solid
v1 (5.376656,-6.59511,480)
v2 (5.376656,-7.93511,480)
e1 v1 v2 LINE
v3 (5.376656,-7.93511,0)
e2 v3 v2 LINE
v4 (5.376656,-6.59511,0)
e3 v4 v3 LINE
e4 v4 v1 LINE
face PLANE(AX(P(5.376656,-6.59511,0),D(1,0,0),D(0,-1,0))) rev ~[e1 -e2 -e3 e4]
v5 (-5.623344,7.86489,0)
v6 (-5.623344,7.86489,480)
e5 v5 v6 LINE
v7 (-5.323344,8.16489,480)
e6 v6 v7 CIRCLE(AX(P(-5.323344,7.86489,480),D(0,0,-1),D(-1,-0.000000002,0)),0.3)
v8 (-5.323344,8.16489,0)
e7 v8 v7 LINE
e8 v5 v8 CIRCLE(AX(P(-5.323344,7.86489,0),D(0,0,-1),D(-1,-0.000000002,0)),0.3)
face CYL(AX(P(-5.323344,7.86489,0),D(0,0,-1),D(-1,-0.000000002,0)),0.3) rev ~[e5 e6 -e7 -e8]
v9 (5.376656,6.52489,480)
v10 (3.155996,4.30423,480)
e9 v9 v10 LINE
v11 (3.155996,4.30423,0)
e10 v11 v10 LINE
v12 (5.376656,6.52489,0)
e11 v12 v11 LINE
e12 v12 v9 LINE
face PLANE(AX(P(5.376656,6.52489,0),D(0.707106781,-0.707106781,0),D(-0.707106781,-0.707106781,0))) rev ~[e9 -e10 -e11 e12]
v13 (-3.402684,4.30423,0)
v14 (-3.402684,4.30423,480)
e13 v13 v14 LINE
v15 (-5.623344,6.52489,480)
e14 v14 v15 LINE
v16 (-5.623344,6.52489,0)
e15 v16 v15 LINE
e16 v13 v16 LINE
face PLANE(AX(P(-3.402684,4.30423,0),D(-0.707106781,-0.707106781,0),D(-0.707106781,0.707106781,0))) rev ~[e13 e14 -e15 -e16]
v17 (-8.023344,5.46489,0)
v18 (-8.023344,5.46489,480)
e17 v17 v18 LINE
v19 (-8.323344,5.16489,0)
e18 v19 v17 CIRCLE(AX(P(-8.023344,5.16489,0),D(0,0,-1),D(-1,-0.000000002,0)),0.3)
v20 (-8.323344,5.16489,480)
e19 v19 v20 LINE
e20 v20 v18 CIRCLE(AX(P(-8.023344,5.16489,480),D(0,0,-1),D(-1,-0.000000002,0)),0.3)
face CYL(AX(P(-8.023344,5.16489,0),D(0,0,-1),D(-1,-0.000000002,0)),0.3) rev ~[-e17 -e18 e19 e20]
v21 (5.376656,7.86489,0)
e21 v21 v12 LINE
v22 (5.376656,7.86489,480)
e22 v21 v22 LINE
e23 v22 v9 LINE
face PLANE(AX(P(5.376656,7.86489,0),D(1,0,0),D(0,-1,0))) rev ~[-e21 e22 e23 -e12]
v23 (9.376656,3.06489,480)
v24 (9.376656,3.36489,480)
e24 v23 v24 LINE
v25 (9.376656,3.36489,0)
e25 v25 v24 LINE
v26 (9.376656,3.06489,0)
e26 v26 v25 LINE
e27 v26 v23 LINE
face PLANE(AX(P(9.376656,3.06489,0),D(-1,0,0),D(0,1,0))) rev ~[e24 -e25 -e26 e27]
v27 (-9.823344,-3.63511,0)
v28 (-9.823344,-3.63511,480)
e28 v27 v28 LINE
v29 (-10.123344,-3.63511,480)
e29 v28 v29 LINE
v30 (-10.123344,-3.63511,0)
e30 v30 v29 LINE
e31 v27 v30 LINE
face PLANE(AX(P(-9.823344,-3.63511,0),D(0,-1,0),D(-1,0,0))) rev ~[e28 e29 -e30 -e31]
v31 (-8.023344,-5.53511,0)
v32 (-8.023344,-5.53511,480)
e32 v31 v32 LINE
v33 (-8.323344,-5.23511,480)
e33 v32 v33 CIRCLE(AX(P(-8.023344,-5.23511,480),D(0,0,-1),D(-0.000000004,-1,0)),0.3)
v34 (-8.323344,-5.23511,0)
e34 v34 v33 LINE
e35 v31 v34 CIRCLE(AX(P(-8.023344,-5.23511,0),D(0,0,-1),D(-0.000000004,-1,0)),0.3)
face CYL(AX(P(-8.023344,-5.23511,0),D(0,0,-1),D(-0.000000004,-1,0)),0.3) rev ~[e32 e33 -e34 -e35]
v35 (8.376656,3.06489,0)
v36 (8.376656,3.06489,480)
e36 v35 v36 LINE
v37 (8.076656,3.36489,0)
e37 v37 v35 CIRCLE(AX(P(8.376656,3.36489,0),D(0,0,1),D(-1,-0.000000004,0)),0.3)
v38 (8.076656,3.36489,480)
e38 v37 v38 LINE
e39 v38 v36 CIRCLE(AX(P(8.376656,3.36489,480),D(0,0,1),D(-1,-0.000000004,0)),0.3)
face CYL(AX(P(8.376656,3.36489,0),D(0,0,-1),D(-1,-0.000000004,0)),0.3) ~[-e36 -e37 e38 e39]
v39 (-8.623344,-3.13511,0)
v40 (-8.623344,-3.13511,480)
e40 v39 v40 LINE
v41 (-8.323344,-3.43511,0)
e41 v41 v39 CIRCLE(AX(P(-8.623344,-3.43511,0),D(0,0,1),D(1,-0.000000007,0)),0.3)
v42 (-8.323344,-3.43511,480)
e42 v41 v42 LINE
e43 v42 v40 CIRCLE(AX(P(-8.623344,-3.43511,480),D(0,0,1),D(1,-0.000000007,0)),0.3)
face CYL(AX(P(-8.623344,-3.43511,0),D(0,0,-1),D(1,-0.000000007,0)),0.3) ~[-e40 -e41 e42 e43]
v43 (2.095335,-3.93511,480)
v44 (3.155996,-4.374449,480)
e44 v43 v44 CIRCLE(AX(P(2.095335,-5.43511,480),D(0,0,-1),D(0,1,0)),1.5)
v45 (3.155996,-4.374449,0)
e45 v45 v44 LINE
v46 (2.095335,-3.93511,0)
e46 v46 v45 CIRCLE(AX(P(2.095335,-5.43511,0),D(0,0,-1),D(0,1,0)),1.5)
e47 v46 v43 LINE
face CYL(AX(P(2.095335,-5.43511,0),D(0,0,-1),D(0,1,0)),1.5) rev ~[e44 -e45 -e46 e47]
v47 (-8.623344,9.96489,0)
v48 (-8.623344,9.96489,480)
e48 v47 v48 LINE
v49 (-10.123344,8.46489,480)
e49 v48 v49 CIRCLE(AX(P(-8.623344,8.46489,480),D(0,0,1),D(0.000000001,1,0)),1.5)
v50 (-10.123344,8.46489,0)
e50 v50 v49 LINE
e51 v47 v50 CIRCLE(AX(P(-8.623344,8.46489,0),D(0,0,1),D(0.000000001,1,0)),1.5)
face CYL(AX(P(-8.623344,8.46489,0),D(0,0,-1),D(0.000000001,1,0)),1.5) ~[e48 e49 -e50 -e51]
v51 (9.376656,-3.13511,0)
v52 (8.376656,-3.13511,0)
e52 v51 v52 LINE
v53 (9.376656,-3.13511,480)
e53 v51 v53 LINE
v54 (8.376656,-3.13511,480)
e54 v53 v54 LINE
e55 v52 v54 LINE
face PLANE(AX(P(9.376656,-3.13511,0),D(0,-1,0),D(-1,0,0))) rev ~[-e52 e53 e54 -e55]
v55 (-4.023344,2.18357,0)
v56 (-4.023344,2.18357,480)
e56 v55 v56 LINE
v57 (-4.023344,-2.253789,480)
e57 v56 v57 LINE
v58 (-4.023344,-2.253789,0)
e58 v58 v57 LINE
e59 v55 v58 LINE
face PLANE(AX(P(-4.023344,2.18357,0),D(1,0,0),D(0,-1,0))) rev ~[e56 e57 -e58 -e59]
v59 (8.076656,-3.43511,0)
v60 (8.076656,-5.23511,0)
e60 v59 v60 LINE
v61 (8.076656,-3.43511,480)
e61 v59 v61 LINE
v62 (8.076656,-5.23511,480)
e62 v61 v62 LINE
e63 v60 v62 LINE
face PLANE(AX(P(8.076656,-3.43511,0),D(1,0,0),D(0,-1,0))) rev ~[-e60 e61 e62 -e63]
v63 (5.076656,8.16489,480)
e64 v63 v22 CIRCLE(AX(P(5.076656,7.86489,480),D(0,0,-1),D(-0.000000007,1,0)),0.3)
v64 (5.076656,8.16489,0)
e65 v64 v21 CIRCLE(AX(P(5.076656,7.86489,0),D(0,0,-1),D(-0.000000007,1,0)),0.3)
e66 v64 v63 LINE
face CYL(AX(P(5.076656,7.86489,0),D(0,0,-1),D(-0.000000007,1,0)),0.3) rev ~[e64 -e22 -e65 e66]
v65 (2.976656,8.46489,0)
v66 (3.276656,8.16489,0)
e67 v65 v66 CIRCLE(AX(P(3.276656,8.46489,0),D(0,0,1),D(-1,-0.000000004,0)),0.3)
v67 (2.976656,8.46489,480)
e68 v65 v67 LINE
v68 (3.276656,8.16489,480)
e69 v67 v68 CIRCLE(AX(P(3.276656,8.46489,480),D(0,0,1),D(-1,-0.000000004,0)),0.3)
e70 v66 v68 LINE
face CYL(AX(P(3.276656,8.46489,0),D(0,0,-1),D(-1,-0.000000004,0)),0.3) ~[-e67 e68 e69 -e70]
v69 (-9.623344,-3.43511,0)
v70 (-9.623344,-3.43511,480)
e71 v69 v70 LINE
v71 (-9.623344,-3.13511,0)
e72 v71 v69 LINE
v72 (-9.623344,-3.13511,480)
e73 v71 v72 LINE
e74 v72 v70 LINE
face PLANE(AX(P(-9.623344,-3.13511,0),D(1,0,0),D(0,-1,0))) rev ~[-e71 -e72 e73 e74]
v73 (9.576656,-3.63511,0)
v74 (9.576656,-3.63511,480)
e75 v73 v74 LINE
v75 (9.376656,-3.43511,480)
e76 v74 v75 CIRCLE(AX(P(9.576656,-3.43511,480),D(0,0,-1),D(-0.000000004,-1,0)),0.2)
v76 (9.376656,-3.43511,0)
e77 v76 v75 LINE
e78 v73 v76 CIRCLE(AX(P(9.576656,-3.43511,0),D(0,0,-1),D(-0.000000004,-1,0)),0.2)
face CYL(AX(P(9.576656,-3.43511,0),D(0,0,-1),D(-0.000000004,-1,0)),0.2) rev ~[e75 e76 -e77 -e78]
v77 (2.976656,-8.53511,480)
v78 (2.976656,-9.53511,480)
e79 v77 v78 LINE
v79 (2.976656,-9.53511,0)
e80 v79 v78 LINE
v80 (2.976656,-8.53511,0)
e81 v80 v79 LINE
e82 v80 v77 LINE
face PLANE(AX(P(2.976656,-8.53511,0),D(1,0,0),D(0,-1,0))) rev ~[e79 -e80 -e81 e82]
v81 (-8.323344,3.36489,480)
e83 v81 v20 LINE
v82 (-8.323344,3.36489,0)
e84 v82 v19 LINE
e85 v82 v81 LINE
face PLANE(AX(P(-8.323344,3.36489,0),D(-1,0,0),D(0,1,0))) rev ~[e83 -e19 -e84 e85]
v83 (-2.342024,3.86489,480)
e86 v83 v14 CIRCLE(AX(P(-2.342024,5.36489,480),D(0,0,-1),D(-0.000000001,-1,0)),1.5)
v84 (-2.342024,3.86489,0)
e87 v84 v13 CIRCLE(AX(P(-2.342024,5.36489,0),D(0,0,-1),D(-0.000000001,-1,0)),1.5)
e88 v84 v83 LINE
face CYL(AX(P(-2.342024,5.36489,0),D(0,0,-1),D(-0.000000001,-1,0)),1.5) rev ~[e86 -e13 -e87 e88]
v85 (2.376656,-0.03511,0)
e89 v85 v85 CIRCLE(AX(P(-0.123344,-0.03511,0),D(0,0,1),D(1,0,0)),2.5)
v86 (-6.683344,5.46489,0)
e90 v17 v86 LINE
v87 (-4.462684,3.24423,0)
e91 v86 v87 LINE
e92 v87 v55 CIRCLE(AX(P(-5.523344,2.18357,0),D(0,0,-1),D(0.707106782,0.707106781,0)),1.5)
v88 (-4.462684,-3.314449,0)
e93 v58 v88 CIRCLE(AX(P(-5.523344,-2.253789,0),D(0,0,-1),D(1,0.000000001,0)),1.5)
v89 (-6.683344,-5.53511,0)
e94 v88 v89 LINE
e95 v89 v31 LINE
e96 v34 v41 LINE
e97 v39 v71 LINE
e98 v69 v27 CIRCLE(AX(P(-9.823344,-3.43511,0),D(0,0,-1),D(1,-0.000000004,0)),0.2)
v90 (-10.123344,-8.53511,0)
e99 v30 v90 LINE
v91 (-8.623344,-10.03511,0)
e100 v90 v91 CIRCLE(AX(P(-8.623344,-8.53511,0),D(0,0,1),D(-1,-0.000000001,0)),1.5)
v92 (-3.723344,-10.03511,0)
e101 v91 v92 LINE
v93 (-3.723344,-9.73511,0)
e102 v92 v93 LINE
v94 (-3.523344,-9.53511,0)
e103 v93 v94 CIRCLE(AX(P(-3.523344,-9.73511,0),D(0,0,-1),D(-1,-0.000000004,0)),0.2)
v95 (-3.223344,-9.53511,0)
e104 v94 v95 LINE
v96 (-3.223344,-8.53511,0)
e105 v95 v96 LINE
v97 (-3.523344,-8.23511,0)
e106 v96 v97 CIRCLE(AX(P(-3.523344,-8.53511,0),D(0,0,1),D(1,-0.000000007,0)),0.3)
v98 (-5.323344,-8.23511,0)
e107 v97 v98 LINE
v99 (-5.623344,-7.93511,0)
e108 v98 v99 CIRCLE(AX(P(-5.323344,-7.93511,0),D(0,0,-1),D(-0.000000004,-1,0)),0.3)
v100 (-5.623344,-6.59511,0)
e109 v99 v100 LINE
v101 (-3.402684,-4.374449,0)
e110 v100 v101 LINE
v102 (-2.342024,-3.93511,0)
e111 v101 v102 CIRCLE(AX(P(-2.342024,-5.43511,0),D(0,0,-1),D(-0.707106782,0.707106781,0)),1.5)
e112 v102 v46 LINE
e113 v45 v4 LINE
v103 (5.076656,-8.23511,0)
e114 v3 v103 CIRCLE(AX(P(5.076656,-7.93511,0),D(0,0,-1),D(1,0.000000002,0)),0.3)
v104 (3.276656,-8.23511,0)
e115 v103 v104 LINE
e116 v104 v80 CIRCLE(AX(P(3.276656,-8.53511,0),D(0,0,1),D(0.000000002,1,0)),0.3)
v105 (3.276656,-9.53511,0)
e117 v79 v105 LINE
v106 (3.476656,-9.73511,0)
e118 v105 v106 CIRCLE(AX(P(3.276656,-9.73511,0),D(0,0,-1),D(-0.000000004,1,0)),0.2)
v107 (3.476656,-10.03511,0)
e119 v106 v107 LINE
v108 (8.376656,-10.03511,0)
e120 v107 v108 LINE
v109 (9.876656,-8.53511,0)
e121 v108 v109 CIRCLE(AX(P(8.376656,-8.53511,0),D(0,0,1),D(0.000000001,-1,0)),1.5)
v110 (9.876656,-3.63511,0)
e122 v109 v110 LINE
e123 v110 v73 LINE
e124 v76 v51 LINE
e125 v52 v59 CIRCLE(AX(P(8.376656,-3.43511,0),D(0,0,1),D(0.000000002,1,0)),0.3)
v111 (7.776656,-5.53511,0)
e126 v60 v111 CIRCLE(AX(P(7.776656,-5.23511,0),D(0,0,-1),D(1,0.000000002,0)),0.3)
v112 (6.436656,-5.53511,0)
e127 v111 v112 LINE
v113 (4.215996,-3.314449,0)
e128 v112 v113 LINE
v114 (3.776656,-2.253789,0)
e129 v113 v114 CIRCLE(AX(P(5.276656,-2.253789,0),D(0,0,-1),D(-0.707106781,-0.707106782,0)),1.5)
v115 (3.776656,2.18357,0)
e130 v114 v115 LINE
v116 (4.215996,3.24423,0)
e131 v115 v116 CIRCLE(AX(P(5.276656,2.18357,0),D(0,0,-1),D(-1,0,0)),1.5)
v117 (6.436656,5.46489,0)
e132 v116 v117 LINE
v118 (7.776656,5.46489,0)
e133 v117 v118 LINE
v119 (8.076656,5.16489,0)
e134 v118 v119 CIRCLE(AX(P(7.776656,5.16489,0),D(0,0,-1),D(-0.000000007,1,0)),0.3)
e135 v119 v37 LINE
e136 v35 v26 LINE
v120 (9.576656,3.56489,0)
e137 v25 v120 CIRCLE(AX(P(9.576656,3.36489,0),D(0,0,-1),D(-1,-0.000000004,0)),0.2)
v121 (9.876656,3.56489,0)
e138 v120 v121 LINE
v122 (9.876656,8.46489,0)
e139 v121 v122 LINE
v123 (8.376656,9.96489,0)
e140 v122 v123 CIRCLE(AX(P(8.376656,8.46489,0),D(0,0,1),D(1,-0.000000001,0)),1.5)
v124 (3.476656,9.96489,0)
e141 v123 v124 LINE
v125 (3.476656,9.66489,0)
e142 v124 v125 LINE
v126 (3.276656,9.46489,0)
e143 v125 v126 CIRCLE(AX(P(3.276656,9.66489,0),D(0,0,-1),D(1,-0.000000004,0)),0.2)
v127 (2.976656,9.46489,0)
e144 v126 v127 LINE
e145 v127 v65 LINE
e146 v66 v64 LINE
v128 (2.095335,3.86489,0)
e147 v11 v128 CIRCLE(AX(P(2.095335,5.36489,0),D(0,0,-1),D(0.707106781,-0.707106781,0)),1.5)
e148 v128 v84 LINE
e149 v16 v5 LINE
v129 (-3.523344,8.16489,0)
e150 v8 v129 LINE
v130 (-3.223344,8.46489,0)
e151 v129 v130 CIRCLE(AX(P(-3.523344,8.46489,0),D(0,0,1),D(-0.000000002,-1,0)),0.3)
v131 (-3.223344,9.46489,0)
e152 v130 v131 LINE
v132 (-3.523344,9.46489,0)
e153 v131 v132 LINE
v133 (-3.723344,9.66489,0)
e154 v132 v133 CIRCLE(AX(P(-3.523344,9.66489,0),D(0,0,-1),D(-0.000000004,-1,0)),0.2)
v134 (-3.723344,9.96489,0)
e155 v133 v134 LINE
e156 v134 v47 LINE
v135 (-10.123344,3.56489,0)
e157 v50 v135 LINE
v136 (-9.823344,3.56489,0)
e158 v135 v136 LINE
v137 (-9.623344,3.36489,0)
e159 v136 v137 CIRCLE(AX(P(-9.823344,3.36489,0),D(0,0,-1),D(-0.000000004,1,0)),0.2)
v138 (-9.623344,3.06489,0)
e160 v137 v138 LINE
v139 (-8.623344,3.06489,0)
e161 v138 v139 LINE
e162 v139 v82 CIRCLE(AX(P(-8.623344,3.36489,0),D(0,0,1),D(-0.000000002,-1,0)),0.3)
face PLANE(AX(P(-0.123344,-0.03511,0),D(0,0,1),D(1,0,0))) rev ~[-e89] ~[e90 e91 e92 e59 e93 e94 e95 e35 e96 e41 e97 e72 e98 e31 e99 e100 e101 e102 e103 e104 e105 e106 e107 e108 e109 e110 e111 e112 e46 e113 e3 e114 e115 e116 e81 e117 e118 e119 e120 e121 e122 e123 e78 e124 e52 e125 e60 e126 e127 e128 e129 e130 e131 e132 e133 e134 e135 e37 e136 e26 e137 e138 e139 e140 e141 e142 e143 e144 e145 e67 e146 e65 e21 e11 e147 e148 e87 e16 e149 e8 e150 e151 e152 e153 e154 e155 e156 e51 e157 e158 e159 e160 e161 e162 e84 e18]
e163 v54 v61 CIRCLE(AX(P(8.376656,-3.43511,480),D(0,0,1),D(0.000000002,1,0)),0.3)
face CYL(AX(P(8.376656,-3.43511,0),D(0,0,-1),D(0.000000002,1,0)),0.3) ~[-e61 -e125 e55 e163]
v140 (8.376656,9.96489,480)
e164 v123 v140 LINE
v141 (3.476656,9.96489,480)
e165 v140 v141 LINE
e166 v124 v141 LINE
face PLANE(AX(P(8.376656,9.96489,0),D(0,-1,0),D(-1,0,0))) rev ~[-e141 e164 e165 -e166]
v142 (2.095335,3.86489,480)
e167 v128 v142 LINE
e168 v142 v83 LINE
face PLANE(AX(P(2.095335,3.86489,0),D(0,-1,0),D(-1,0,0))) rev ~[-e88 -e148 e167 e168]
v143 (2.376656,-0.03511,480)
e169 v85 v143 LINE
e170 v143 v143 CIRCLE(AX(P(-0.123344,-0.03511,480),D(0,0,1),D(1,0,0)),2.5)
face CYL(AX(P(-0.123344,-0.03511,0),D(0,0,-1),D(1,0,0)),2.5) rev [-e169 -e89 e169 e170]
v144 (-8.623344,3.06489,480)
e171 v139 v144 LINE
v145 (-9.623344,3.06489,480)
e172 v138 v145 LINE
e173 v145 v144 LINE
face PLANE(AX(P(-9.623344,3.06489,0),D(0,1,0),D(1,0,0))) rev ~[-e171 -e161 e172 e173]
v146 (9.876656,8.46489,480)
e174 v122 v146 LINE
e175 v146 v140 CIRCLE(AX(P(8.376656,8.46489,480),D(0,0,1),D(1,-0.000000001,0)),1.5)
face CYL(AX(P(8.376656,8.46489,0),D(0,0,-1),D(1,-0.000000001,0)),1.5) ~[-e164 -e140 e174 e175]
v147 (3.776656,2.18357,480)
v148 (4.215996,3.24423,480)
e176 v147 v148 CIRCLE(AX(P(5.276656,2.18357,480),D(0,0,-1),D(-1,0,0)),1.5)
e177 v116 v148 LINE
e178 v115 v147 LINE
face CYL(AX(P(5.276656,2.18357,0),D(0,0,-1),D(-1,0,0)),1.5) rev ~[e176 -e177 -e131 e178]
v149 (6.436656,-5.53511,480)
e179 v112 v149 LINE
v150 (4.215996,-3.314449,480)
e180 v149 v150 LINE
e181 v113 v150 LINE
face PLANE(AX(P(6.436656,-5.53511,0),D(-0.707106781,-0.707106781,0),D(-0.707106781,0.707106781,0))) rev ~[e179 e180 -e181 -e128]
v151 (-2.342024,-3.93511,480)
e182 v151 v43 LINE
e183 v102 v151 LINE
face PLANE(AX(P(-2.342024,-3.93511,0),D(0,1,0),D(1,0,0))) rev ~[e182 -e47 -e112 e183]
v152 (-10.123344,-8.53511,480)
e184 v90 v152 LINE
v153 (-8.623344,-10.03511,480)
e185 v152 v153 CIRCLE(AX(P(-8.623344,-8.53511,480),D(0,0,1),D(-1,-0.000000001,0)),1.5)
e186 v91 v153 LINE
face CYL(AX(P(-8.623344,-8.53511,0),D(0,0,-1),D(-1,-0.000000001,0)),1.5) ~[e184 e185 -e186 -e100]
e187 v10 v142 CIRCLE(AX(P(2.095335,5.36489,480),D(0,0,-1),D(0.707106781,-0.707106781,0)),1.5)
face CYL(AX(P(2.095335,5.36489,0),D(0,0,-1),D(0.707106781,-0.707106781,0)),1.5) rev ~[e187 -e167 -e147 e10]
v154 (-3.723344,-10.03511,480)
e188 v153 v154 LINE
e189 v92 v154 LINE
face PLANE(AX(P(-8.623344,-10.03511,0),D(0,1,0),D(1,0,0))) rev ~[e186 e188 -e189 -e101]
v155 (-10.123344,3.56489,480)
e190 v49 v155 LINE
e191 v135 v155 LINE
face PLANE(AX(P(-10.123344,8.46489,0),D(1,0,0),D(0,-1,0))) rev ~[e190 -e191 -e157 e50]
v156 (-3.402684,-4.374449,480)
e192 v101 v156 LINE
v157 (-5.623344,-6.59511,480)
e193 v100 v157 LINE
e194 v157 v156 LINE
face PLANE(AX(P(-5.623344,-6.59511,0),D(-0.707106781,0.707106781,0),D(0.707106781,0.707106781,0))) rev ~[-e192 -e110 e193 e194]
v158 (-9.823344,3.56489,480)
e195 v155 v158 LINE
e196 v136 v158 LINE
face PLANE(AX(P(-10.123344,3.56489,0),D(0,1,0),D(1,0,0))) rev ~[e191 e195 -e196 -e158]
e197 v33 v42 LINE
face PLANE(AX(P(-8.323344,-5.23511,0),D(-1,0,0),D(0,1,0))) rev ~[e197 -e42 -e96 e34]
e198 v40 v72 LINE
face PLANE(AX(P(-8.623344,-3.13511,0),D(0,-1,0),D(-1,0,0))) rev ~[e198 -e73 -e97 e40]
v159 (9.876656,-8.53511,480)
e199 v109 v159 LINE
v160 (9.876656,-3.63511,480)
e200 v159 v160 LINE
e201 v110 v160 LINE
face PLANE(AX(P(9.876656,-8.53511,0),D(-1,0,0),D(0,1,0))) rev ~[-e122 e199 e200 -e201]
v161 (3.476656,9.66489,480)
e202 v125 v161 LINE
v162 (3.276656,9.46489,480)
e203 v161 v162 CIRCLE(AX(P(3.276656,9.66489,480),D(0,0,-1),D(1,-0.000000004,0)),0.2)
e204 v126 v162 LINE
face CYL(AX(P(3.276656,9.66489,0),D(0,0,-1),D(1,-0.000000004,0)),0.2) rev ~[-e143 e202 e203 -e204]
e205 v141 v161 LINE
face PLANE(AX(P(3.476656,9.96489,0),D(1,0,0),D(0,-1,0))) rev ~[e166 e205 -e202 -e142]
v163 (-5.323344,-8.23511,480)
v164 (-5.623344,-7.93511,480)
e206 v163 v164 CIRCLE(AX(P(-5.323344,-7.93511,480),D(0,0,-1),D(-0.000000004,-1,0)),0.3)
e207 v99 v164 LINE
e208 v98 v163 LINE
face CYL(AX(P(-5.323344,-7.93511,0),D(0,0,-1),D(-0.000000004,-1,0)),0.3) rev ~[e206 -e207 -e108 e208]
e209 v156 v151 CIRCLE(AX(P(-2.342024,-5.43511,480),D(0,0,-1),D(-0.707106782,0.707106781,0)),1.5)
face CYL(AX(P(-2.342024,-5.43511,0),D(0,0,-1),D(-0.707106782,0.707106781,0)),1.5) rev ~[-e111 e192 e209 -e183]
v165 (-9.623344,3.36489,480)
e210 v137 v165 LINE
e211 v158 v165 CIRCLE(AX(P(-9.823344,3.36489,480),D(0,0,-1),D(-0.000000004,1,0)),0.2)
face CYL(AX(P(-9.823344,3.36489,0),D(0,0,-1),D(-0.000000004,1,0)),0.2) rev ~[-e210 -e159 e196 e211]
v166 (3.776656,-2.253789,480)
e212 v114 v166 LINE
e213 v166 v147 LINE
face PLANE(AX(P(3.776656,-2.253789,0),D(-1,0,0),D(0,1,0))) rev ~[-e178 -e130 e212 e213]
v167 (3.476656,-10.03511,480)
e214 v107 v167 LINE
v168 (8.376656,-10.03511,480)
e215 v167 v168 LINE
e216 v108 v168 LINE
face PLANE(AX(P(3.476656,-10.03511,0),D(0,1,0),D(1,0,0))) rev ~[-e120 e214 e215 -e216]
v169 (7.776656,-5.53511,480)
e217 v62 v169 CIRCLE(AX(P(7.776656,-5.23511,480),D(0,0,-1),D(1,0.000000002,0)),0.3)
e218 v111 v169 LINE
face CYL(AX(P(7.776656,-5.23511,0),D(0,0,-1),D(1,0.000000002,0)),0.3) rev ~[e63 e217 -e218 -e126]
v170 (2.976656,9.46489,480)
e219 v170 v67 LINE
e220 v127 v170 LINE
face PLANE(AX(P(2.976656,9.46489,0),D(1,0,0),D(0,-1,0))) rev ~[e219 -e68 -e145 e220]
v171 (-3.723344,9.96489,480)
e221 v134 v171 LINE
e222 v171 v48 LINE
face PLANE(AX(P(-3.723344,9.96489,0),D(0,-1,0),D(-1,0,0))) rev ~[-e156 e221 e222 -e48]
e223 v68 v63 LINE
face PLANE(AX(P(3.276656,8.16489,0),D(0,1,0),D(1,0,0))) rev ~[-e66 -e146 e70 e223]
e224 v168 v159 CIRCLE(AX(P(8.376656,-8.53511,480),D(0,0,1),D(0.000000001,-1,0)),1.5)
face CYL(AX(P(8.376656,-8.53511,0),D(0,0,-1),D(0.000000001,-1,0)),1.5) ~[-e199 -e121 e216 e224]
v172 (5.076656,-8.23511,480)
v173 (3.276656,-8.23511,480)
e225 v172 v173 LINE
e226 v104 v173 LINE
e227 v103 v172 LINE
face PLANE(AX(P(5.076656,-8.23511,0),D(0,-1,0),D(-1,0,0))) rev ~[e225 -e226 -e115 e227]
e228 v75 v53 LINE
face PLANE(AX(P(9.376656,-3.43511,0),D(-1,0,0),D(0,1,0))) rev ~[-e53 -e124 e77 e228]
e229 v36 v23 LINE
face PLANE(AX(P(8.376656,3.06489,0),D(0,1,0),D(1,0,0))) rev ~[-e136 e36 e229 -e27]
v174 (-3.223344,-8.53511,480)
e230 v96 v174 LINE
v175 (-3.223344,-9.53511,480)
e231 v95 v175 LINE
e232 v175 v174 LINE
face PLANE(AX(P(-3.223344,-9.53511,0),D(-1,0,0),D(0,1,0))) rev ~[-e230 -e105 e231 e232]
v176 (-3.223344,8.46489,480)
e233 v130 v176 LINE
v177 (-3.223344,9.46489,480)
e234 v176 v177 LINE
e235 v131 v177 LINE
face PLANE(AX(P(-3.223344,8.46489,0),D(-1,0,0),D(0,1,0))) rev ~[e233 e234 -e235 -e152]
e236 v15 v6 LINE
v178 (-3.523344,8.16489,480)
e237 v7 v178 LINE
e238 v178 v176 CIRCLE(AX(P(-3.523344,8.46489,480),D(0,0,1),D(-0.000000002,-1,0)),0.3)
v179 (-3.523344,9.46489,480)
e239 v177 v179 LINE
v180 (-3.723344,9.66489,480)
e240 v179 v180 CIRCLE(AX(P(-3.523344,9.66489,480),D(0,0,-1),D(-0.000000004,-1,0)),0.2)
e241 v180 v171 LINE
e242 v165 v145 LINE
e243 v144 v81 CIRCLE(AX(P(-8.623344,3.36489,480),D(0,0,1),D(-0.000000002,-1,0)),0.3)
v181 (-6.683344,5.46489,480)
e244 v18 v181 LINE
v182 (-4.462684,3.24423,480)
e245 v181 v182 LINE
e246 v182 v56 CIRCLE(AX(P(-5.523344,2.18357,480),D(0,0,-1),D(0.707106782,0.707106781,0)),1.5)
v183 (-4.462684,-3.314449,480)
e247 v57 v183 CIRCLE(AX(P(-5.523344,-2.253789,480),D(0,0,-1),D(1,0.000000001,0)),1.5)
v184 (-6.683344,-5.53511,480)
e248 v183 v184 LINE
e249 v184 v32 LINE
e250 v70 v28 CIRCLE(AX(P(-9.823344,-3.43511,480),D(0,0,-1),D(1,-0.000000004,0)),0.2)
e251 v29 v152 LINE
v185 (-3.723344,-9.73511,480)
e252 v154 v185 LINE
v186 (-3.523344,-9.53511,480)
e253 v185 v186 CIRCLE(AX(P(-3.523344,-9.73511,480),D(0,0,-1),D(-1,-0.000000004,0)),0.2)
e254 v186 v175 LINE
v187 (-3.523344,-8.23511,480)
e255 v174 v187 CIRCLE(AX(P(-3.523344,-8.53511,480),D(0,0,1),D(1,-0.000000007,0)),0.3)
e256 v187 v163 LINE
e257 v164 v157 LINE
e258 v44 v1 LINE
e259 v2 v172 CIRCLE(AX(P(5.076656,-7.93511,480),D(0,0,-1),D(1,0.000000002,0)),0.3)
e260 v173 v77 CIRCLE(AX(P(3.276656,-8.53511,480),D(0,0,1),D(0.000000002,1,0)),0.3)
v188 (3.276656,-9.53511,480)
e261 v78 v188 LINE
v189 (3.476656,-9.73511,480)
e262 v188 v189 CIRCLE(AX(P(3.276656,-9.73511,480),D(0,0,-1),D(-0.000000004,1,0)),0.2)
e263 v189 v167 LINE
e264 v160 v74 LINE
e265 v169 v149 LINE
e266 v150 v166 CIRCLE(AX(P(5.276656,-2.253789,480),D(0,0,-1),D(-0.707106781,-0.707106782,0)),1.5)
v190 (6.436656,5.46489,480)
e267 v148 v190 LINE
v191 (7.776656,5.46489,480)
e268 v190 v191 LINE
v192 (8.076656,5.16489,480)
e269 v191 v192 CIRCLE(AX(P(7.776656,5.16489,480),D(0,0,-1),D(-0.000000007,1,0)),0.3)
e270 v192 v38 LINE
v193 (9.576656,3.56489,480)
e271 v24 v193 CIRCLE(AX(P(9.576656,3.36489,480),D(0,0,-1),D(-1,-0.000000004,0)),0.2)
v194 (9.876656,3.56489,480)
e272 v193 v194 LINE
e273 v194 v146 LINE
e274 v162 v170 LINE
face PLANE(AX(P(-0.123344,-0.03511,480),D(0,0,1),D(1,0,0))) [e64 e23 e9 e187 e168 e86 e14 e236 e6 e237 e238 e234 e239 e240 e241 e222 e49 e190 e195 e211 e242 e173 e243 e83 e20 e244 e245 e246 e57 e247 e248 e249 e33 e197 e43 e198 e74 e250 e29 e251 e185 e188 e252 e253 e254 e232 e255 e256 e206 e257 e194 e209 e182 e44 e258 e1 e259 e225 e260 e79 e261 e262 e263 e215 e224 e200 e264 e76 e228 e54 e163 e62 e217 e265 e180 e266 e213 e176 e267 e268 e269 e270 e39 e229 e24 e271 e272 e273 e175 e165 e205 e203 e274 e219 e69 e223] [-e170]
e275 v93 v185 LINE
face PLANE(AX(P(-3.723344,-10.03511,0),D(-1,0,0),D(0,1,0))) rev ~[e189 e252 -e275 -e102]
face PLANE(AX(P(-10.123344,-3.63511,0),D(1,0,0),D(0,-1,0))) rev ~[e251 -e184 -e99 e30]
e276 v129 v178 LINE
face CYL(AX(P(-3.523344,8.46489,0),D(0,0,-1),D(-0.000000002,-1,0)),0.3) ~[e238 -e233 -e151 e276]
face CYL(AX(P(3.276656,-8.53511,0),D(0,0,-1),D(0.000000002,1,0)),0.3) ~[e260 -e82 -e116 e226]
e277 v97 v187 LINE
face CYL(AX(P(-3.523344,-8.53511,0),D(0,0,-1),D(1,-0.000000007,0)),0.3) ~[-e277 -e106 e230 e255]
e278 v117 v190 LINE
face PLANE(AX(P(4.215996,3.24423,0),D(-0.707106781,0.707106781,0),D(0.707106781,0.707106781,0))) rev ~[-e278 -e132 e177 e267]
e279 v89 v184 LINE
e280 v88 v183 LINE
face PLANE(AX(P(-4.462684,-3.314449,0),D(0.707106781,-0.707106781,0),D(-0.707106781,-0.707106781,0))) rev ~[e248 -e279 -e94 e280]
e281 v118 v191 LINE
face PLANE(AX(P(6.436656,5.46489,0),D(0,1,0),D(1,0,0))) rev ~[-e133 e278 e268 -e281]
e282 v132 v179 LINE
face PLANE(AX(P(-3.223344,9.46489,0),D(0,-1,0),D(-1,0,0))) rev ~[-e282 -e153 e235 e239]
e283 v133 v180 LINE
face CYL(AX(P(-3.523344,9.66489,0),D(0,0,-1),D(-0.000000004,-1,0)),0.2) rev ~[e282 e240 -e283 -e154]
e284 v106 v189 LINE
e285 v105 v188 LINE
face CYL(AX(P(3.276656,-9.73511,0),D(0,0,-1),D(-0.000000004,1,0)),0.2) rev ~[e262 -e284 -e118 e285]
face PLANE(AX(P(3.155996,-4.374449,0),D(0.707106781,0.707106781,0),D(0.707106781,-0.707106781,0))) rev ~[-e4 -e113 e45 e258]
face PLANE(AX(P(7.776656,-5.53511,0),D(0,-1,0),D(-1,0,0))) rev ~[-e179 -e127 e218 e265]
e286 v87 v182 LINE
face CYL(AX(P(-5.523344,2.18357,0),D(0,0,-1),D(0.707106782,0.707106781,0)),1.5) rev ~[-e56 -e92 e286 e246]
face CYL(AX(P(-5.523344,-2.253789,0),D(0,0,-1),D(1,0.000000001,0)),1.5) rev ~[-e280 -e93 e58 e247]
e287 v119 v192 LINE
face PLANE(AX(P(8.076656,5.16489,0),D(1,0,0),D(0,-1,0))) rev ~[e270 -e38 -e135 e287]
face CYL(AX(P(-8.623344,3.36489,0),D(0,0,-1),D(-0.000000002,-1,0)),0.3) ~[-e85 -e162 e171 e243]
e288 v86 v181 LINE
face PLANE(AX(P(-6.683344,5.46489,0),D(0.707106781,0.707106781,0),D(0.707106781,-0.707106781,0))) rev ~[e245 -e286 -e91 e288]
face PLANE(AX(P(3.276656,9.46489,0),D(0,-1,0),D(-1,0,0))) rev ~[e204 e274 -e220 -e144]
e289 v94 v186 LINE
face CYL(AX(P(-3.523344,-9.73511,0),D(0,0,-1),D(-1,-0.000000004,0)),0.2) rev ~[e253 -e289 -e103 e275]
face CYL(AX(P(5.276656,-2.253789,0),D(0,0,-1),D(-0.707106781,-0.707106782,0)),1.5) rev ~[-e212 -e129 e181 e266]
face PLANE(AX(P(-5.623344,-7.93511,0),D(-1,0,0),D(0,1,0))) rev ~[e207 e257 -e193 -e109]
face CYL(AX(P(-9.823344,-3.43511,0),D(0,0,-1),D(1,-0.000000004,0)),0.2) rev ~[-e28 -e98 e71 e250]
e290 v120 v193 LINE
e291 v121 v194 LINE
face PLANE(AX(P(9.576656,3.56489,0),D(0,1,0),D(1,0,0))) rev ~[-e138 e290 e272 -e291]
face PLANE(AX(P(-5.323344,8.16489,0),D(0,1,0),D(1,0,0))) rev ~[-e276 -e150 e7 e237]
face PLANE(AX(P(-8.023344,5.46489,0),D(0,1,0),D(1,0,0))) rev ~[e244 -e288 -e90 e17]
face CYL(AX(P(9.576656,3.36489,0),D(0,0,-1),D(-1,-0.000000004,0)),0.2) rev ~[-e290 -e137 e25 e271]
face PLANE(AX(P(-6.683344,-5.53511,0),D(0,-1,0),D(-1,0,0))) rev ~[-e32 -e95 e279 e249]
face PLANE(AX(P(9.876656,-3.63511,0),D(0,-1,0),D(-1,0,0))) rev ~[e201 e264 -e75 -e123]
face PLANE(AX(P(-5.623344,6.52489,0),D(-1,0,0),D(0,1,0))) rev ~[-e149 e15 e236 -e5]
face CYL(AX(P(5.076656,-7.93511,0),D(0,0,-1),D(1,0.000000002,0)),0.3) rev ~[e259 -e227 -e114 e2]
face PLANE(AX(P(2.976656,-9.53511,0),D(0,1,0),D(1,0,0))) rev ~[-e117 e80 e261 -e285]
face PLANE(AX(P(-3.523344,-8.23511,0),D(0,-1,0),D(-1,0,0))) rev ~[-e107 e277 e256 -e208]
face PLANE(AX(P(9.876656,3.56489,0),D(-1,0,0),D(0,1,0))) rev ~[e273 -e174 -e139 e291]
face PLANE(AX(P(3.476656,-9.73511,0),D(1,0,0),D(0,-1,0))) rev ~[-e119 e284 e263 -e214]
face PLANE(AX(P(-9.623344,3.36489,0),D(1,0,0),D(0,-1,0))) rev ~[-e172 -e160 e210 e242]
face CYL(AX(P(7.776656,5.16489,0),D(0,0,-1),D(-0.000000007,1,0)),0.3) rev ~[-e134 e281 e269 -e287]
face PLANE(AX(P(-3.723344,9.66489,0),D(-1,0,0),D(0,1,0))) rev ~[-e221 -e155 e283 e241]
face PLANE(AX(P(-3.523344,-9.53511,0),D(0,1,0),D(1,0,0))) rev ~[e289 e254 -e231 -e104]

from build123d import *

# Parameters (mm, degrees)
SKETCH_1_R      = 2.5
EXTRUDE_1_DEPTH = 480


with BuildPart() as part:
    # 草图1 → 凸台-拉伸1 (new body)
    with BuildSketch(Plane.XY):
        with BuildLine():
            Line((4.215995631, 3.244230202), (6.436655803, 5.464890373))
            Line((6.436655803, 5.464890373), (7.776655803, 5.464890373))
            ThreePointArc((7.776655803, 5.464890373), (7.988787838, 5.377022408), (8.076655803, 5.164890373))
            Line((8.076655803, 5.164890373), (8.076655803, 3.364890373))
            ThreePointArc((8.076655803, 3.364890373), (8.164523769, 3.152758339), (8.376655803, 3.064890373))
            Line((8.376655803, 3.064890373), (9.376655803, 3.064890373))
            Line((9.376655803, 3.064890373), (9.376655803, 3.364890373))
            ThreePointArc((9.376655803, 3.364890373), (9.435234447, 3.50631173), (9.576655803, 3.564890373))
            Line((9.576655803, 3.564890373), (9.876655803, 3.564890373))
            Line((9.876655803, 3.564890373), (9.876655803, 8.464890373))
            ThreePointArc((9.876655803, 8.464890373), (9.437315975, 9.525550545), (8.376655803, 9.964890373))
            Line((8.376655803, 9.964890373), (3.476655803, 9.964890373))
            Line((3.476655803, 9.964890373), (3.476655803, 9.664890373))
            ThreePointArc((3.476655803, 9.664890373), (3.418077159, 9.523469017), (3.276655803, 9.464890373))
            Line((3.276655803, 9.464890373), (2.976655803, 9.464890373))
            Line((2.976655803, 9.464890373), (2.976655803, 8.464890373))
            ThreePointArc((2.976655803, 8.464890373), (3.064523769, 8.252758339), (3.276655803, 8.164890373))
            Line((3.276655803, 8.164890373), (5.076655803, 8.164890373))
            ThreePointArc((5.076655803, 8.164890373), (5.288787838, 8.077022408), (5.376655803, 7.864890373))
            Line((5.376655803, 7.864890373), (5.376655803, 6.524890373))
            Line((5.376655803, 6.524890373), (3.155995631, 4.304230202))
            ThreePointArc((3.155995631, 4.304230202), (2.669360608, 3.979071075), (2.09533546, 3.864890373))
            Line((2.09533546, 3.864890373), (-2.342023853, 3.864890373))
            ThreePointArc((-2.342023853, 3.864890373), (-2.916049002, 3.979071075), (-3.402684025, 4.304230202))
            Line((-3.402684025, 4.304230202), (-5.623344197, 6.524890373))
            Line((-5.623344197, 6.524890373), (-5.623344197, 7.864890373))
            ThreePointArc((-5.623344197, 7.864890373), (-5.535476231, 8.077022408), (-5.323344197, 8.164890373))
            Line((-5.323344197, 8.164890373), (-3.523344197, 8.164890373))
            ThreePointArc((-3.523344197, 8.164890373), (-3.311212162, 8.252758339), (-3.223344197, 8.464890373))
            Line((-3.223344197, 8.464890373), (-3.223344197, 9.464890373))
            Line((-3.223344197, 9.464890373), (-3.523344197, 9.464890373))
            ThreePointArc((-3.523344197, 9.464890373), (-3.664765553, 9.523469017), (-3.723344197, 9.664890373))
            Line((-3.723344197, 9.664890373), (-3.723344197, 9.964890373))
            Line((-3.723344197, 9.964890373), (-8.623344197, 9.964890373))
            ThreePointArc((-8.623344197, 9.964890373), (-9.684004369, 9.525550545), (-10.123344197, 8.464890373))
            Line((-10.123344197, 8.464890373), (-10.123344197, 3.564890373))
            Line((-10.123344197, 3.564890373), (-9.823344197, 3.564890373))
            ThreePointArc((-9.823344197, 3.564890373), (-9.681922841, 3.50631173), (-9.623344197, 3.364890373))
            Line((-9.623344197, 3.364890373), (-9.623344197, 3.064890373))
            Line((-9.623344197, 3.064890373), (-8.623344197, 3.064890373))
            ThreePointArc((-8.623344197, 3.064890373), (-8.411212162, 3.152758339), (-8.323344197, 3.364890373))
            Line((-8.323344197, 3.364890373), (-8.323344197, 5.164890373))
            ThreePointArc((-8.323344197, 5.164890373), (-8.235476231, 5.377022408), (-8.023344197, 5.464890373))
            Line((-8.023344197, 5.464890373), (-6.683344197, 5.464890373))
            Line((-6.683344197, 5.464890373), (-4.462684025, 3.244230202))
            ThreePointArc((-4.462684025, 3.244230202), (-4.137524898, 2.757595178), (-4.023344197, 2.18357003))
            Line((-4.023344197, 2.18357003), (-4.023344197, -2.253789283))
            ThreePointArc((-4.023344197, -2.253789283), (-4.137524898, -2.827814432), (-4.462684025, -3.314449455))
            Line((-4.462684025, -3.314449455), (-6.683344197, -5.535109627))
            Line((-6.683344197, -5.535109627), (-8.023344197, -5.535109627))
            ThreePointArc((-8.023344197, -5.535109627), (-8.235476231, -5.447241661), (-8.323344197, -5.235109627))
            Line((-8.323344197, -5.235109627), (-8.323344197, -3.435109627))
            ThreePointArc((-8.323344197, -3.435109627), (-8.411212162, -3.222977592), (-8.623344197, -3.135109627))
            Line((-8.623344197, -3.135109627), (-9.623344197, -3.135109627))
            Line((-9.623344197, -3.135109627), (-9.623344197, -3.435109627))
            ThreePointArc((-9.623344197, -3.435109627), (-9.681922841, -3.576530983), (-9.823344197, -3.635109627))
            Line((-9.823344197, -3.635109627), (-10.123344197, -3.635109627))
            Line((-10.123344197, -3.635109627), (-10.123344197, -8.535109627))
            ThreePointArc((-10.123344197, -8.535109627), (-9.684004369, -9.595769798), (-8.623344197, -10.035109627))
            Line((-8.623344197, -10.035109627), (-3.723344197, -10.035109627))
            Line((-3.723344197, -10.035109627), (-3.723344197, -9.735109627))
            ThreePointArc((-3.723344197, -9.735109627), (-3.664765553, -9.59368827), (-3.523344197, -9.535109627))
            Line((-3.523344197, -9.535109627), (-3.223344197, -9.535109627))
            Line((-3.223344197, -9.535109627), (-3.223344197, -8.535109627))
            ThreePointArc((-3.223344197, -8.535109627), (-3.311212162, -8.322977592), (-3.523344197, -8.235109627))
            Line((-3.523344197, -8.235109627), (-5.323344197, -8.235109627))
            ThreePointArc((-5.323344197, -8.235109627), (-5.535476231, -8.147241661), (-5.623344197, -7.935109627))
            Line((-5.623344197, -7.935109627), (-5.623344197, -6.595109627))
            Line((-5.623344197, -6.595109627), (-3.402684025, -4.374449455))
            ThreePointArc((-3.402684025, -4.374449455), (-2.916049002, -4.049290328), (-2.342023853, -3.935109627))
            Line((-2.342023853, -3.935109627), (2.09533546, -3.935109627))
            ThreePointArc((2.09533546, -3.935109627), (2.669360608, -4.049290328), (3.155995631, -4.374449455))
            Line((3.155995631, -4.374449455), (5.376655803, -6.595109627))
            Line((5.376655803, -6.595109627), (5.376655803, -7.935109627))
            ThreePointArc((5.376655803, -7.935109627), (5.288787838, -8.147241661), (5.076655803, -8.235109627))
            Line((5.076655803, -8.235109627), (3.276655803, -8.235109627))
            ThreePointArc((3.276655803, -8.235109627), (3.064523769, -8.322977592), (2.976655803, -8.535109627))
            Line((2.976655803, -8.535109627), (2.976655803, -9.535109627))
            Line((2.976655803, -9.535109627), (3.276655803, -9.535109627))
            ThreePointArc((3.276655803, -9.535109627), (3.418077159, -9.59368827), (3.476655803, -9.735109627))
            Line((3.476655803, -9.735109627), (3.476655803, -10.035109627))
            Line((3.476655803, -10.035109627), (8.376655803, -10.035109627))
            ThreePointArc((8.376655803, -10.035109627), (9.437315975, -9.595769798), (9.876655803, -8.535109627))
            Line((9.876655803, -8.535109627), (9.876655803, -3.635109627))
            Line((9.876655803, -3.635109627), (9.576655803, -3.635109627))
            ThreePointArc((9.576655803, -3.635109627), (9.435234447, -3.576530983), (9.376655803, -3.435109627))
            Line((9.376655803, -3.435109627), (9.376655803, -3.135109627))
            Line((9.376655803, -3.135109627), (8.376655803, -3.135109627))
            ThreePointArc((8.376655803, -3.135109627), (8.164523769, -3.222977592), (8.076655803, -3.435109627))
            Line((8.076655803, -3.435109627), (8.076655803, -5.235109627))
            ThreePointArc((8.076655803, -5.235109627), (7.988787838, -5.447241661), (7.776655803, -5.535109627))
            Line((7.776655803, -5.535109627), (6.436655803, -5.535109627))
            Line((6.436655803, -5.535109627), (4.215995631, -3.314449455))
            ThreePointArc((4.215995631, -3.314449455), (3.890836504, -2.827814432), (3.776655803, -2.253789283))
            Line((3.776655803, -2.253789283), (3.776655803, 2.18357003))
            ThreePointArc((3.776655803, 2.18357003), (3.890836504, 2.757595178), (4.215995631, 3.244230202))
        make_face()
        with Locations((-0.123344197, -0.035109627)):
            Circle(SKETCH_1_R, mode=Mode.SUBTRACT)
    extrude(amount=EXTRUDE_1_DEPTH)


solid = part.part
